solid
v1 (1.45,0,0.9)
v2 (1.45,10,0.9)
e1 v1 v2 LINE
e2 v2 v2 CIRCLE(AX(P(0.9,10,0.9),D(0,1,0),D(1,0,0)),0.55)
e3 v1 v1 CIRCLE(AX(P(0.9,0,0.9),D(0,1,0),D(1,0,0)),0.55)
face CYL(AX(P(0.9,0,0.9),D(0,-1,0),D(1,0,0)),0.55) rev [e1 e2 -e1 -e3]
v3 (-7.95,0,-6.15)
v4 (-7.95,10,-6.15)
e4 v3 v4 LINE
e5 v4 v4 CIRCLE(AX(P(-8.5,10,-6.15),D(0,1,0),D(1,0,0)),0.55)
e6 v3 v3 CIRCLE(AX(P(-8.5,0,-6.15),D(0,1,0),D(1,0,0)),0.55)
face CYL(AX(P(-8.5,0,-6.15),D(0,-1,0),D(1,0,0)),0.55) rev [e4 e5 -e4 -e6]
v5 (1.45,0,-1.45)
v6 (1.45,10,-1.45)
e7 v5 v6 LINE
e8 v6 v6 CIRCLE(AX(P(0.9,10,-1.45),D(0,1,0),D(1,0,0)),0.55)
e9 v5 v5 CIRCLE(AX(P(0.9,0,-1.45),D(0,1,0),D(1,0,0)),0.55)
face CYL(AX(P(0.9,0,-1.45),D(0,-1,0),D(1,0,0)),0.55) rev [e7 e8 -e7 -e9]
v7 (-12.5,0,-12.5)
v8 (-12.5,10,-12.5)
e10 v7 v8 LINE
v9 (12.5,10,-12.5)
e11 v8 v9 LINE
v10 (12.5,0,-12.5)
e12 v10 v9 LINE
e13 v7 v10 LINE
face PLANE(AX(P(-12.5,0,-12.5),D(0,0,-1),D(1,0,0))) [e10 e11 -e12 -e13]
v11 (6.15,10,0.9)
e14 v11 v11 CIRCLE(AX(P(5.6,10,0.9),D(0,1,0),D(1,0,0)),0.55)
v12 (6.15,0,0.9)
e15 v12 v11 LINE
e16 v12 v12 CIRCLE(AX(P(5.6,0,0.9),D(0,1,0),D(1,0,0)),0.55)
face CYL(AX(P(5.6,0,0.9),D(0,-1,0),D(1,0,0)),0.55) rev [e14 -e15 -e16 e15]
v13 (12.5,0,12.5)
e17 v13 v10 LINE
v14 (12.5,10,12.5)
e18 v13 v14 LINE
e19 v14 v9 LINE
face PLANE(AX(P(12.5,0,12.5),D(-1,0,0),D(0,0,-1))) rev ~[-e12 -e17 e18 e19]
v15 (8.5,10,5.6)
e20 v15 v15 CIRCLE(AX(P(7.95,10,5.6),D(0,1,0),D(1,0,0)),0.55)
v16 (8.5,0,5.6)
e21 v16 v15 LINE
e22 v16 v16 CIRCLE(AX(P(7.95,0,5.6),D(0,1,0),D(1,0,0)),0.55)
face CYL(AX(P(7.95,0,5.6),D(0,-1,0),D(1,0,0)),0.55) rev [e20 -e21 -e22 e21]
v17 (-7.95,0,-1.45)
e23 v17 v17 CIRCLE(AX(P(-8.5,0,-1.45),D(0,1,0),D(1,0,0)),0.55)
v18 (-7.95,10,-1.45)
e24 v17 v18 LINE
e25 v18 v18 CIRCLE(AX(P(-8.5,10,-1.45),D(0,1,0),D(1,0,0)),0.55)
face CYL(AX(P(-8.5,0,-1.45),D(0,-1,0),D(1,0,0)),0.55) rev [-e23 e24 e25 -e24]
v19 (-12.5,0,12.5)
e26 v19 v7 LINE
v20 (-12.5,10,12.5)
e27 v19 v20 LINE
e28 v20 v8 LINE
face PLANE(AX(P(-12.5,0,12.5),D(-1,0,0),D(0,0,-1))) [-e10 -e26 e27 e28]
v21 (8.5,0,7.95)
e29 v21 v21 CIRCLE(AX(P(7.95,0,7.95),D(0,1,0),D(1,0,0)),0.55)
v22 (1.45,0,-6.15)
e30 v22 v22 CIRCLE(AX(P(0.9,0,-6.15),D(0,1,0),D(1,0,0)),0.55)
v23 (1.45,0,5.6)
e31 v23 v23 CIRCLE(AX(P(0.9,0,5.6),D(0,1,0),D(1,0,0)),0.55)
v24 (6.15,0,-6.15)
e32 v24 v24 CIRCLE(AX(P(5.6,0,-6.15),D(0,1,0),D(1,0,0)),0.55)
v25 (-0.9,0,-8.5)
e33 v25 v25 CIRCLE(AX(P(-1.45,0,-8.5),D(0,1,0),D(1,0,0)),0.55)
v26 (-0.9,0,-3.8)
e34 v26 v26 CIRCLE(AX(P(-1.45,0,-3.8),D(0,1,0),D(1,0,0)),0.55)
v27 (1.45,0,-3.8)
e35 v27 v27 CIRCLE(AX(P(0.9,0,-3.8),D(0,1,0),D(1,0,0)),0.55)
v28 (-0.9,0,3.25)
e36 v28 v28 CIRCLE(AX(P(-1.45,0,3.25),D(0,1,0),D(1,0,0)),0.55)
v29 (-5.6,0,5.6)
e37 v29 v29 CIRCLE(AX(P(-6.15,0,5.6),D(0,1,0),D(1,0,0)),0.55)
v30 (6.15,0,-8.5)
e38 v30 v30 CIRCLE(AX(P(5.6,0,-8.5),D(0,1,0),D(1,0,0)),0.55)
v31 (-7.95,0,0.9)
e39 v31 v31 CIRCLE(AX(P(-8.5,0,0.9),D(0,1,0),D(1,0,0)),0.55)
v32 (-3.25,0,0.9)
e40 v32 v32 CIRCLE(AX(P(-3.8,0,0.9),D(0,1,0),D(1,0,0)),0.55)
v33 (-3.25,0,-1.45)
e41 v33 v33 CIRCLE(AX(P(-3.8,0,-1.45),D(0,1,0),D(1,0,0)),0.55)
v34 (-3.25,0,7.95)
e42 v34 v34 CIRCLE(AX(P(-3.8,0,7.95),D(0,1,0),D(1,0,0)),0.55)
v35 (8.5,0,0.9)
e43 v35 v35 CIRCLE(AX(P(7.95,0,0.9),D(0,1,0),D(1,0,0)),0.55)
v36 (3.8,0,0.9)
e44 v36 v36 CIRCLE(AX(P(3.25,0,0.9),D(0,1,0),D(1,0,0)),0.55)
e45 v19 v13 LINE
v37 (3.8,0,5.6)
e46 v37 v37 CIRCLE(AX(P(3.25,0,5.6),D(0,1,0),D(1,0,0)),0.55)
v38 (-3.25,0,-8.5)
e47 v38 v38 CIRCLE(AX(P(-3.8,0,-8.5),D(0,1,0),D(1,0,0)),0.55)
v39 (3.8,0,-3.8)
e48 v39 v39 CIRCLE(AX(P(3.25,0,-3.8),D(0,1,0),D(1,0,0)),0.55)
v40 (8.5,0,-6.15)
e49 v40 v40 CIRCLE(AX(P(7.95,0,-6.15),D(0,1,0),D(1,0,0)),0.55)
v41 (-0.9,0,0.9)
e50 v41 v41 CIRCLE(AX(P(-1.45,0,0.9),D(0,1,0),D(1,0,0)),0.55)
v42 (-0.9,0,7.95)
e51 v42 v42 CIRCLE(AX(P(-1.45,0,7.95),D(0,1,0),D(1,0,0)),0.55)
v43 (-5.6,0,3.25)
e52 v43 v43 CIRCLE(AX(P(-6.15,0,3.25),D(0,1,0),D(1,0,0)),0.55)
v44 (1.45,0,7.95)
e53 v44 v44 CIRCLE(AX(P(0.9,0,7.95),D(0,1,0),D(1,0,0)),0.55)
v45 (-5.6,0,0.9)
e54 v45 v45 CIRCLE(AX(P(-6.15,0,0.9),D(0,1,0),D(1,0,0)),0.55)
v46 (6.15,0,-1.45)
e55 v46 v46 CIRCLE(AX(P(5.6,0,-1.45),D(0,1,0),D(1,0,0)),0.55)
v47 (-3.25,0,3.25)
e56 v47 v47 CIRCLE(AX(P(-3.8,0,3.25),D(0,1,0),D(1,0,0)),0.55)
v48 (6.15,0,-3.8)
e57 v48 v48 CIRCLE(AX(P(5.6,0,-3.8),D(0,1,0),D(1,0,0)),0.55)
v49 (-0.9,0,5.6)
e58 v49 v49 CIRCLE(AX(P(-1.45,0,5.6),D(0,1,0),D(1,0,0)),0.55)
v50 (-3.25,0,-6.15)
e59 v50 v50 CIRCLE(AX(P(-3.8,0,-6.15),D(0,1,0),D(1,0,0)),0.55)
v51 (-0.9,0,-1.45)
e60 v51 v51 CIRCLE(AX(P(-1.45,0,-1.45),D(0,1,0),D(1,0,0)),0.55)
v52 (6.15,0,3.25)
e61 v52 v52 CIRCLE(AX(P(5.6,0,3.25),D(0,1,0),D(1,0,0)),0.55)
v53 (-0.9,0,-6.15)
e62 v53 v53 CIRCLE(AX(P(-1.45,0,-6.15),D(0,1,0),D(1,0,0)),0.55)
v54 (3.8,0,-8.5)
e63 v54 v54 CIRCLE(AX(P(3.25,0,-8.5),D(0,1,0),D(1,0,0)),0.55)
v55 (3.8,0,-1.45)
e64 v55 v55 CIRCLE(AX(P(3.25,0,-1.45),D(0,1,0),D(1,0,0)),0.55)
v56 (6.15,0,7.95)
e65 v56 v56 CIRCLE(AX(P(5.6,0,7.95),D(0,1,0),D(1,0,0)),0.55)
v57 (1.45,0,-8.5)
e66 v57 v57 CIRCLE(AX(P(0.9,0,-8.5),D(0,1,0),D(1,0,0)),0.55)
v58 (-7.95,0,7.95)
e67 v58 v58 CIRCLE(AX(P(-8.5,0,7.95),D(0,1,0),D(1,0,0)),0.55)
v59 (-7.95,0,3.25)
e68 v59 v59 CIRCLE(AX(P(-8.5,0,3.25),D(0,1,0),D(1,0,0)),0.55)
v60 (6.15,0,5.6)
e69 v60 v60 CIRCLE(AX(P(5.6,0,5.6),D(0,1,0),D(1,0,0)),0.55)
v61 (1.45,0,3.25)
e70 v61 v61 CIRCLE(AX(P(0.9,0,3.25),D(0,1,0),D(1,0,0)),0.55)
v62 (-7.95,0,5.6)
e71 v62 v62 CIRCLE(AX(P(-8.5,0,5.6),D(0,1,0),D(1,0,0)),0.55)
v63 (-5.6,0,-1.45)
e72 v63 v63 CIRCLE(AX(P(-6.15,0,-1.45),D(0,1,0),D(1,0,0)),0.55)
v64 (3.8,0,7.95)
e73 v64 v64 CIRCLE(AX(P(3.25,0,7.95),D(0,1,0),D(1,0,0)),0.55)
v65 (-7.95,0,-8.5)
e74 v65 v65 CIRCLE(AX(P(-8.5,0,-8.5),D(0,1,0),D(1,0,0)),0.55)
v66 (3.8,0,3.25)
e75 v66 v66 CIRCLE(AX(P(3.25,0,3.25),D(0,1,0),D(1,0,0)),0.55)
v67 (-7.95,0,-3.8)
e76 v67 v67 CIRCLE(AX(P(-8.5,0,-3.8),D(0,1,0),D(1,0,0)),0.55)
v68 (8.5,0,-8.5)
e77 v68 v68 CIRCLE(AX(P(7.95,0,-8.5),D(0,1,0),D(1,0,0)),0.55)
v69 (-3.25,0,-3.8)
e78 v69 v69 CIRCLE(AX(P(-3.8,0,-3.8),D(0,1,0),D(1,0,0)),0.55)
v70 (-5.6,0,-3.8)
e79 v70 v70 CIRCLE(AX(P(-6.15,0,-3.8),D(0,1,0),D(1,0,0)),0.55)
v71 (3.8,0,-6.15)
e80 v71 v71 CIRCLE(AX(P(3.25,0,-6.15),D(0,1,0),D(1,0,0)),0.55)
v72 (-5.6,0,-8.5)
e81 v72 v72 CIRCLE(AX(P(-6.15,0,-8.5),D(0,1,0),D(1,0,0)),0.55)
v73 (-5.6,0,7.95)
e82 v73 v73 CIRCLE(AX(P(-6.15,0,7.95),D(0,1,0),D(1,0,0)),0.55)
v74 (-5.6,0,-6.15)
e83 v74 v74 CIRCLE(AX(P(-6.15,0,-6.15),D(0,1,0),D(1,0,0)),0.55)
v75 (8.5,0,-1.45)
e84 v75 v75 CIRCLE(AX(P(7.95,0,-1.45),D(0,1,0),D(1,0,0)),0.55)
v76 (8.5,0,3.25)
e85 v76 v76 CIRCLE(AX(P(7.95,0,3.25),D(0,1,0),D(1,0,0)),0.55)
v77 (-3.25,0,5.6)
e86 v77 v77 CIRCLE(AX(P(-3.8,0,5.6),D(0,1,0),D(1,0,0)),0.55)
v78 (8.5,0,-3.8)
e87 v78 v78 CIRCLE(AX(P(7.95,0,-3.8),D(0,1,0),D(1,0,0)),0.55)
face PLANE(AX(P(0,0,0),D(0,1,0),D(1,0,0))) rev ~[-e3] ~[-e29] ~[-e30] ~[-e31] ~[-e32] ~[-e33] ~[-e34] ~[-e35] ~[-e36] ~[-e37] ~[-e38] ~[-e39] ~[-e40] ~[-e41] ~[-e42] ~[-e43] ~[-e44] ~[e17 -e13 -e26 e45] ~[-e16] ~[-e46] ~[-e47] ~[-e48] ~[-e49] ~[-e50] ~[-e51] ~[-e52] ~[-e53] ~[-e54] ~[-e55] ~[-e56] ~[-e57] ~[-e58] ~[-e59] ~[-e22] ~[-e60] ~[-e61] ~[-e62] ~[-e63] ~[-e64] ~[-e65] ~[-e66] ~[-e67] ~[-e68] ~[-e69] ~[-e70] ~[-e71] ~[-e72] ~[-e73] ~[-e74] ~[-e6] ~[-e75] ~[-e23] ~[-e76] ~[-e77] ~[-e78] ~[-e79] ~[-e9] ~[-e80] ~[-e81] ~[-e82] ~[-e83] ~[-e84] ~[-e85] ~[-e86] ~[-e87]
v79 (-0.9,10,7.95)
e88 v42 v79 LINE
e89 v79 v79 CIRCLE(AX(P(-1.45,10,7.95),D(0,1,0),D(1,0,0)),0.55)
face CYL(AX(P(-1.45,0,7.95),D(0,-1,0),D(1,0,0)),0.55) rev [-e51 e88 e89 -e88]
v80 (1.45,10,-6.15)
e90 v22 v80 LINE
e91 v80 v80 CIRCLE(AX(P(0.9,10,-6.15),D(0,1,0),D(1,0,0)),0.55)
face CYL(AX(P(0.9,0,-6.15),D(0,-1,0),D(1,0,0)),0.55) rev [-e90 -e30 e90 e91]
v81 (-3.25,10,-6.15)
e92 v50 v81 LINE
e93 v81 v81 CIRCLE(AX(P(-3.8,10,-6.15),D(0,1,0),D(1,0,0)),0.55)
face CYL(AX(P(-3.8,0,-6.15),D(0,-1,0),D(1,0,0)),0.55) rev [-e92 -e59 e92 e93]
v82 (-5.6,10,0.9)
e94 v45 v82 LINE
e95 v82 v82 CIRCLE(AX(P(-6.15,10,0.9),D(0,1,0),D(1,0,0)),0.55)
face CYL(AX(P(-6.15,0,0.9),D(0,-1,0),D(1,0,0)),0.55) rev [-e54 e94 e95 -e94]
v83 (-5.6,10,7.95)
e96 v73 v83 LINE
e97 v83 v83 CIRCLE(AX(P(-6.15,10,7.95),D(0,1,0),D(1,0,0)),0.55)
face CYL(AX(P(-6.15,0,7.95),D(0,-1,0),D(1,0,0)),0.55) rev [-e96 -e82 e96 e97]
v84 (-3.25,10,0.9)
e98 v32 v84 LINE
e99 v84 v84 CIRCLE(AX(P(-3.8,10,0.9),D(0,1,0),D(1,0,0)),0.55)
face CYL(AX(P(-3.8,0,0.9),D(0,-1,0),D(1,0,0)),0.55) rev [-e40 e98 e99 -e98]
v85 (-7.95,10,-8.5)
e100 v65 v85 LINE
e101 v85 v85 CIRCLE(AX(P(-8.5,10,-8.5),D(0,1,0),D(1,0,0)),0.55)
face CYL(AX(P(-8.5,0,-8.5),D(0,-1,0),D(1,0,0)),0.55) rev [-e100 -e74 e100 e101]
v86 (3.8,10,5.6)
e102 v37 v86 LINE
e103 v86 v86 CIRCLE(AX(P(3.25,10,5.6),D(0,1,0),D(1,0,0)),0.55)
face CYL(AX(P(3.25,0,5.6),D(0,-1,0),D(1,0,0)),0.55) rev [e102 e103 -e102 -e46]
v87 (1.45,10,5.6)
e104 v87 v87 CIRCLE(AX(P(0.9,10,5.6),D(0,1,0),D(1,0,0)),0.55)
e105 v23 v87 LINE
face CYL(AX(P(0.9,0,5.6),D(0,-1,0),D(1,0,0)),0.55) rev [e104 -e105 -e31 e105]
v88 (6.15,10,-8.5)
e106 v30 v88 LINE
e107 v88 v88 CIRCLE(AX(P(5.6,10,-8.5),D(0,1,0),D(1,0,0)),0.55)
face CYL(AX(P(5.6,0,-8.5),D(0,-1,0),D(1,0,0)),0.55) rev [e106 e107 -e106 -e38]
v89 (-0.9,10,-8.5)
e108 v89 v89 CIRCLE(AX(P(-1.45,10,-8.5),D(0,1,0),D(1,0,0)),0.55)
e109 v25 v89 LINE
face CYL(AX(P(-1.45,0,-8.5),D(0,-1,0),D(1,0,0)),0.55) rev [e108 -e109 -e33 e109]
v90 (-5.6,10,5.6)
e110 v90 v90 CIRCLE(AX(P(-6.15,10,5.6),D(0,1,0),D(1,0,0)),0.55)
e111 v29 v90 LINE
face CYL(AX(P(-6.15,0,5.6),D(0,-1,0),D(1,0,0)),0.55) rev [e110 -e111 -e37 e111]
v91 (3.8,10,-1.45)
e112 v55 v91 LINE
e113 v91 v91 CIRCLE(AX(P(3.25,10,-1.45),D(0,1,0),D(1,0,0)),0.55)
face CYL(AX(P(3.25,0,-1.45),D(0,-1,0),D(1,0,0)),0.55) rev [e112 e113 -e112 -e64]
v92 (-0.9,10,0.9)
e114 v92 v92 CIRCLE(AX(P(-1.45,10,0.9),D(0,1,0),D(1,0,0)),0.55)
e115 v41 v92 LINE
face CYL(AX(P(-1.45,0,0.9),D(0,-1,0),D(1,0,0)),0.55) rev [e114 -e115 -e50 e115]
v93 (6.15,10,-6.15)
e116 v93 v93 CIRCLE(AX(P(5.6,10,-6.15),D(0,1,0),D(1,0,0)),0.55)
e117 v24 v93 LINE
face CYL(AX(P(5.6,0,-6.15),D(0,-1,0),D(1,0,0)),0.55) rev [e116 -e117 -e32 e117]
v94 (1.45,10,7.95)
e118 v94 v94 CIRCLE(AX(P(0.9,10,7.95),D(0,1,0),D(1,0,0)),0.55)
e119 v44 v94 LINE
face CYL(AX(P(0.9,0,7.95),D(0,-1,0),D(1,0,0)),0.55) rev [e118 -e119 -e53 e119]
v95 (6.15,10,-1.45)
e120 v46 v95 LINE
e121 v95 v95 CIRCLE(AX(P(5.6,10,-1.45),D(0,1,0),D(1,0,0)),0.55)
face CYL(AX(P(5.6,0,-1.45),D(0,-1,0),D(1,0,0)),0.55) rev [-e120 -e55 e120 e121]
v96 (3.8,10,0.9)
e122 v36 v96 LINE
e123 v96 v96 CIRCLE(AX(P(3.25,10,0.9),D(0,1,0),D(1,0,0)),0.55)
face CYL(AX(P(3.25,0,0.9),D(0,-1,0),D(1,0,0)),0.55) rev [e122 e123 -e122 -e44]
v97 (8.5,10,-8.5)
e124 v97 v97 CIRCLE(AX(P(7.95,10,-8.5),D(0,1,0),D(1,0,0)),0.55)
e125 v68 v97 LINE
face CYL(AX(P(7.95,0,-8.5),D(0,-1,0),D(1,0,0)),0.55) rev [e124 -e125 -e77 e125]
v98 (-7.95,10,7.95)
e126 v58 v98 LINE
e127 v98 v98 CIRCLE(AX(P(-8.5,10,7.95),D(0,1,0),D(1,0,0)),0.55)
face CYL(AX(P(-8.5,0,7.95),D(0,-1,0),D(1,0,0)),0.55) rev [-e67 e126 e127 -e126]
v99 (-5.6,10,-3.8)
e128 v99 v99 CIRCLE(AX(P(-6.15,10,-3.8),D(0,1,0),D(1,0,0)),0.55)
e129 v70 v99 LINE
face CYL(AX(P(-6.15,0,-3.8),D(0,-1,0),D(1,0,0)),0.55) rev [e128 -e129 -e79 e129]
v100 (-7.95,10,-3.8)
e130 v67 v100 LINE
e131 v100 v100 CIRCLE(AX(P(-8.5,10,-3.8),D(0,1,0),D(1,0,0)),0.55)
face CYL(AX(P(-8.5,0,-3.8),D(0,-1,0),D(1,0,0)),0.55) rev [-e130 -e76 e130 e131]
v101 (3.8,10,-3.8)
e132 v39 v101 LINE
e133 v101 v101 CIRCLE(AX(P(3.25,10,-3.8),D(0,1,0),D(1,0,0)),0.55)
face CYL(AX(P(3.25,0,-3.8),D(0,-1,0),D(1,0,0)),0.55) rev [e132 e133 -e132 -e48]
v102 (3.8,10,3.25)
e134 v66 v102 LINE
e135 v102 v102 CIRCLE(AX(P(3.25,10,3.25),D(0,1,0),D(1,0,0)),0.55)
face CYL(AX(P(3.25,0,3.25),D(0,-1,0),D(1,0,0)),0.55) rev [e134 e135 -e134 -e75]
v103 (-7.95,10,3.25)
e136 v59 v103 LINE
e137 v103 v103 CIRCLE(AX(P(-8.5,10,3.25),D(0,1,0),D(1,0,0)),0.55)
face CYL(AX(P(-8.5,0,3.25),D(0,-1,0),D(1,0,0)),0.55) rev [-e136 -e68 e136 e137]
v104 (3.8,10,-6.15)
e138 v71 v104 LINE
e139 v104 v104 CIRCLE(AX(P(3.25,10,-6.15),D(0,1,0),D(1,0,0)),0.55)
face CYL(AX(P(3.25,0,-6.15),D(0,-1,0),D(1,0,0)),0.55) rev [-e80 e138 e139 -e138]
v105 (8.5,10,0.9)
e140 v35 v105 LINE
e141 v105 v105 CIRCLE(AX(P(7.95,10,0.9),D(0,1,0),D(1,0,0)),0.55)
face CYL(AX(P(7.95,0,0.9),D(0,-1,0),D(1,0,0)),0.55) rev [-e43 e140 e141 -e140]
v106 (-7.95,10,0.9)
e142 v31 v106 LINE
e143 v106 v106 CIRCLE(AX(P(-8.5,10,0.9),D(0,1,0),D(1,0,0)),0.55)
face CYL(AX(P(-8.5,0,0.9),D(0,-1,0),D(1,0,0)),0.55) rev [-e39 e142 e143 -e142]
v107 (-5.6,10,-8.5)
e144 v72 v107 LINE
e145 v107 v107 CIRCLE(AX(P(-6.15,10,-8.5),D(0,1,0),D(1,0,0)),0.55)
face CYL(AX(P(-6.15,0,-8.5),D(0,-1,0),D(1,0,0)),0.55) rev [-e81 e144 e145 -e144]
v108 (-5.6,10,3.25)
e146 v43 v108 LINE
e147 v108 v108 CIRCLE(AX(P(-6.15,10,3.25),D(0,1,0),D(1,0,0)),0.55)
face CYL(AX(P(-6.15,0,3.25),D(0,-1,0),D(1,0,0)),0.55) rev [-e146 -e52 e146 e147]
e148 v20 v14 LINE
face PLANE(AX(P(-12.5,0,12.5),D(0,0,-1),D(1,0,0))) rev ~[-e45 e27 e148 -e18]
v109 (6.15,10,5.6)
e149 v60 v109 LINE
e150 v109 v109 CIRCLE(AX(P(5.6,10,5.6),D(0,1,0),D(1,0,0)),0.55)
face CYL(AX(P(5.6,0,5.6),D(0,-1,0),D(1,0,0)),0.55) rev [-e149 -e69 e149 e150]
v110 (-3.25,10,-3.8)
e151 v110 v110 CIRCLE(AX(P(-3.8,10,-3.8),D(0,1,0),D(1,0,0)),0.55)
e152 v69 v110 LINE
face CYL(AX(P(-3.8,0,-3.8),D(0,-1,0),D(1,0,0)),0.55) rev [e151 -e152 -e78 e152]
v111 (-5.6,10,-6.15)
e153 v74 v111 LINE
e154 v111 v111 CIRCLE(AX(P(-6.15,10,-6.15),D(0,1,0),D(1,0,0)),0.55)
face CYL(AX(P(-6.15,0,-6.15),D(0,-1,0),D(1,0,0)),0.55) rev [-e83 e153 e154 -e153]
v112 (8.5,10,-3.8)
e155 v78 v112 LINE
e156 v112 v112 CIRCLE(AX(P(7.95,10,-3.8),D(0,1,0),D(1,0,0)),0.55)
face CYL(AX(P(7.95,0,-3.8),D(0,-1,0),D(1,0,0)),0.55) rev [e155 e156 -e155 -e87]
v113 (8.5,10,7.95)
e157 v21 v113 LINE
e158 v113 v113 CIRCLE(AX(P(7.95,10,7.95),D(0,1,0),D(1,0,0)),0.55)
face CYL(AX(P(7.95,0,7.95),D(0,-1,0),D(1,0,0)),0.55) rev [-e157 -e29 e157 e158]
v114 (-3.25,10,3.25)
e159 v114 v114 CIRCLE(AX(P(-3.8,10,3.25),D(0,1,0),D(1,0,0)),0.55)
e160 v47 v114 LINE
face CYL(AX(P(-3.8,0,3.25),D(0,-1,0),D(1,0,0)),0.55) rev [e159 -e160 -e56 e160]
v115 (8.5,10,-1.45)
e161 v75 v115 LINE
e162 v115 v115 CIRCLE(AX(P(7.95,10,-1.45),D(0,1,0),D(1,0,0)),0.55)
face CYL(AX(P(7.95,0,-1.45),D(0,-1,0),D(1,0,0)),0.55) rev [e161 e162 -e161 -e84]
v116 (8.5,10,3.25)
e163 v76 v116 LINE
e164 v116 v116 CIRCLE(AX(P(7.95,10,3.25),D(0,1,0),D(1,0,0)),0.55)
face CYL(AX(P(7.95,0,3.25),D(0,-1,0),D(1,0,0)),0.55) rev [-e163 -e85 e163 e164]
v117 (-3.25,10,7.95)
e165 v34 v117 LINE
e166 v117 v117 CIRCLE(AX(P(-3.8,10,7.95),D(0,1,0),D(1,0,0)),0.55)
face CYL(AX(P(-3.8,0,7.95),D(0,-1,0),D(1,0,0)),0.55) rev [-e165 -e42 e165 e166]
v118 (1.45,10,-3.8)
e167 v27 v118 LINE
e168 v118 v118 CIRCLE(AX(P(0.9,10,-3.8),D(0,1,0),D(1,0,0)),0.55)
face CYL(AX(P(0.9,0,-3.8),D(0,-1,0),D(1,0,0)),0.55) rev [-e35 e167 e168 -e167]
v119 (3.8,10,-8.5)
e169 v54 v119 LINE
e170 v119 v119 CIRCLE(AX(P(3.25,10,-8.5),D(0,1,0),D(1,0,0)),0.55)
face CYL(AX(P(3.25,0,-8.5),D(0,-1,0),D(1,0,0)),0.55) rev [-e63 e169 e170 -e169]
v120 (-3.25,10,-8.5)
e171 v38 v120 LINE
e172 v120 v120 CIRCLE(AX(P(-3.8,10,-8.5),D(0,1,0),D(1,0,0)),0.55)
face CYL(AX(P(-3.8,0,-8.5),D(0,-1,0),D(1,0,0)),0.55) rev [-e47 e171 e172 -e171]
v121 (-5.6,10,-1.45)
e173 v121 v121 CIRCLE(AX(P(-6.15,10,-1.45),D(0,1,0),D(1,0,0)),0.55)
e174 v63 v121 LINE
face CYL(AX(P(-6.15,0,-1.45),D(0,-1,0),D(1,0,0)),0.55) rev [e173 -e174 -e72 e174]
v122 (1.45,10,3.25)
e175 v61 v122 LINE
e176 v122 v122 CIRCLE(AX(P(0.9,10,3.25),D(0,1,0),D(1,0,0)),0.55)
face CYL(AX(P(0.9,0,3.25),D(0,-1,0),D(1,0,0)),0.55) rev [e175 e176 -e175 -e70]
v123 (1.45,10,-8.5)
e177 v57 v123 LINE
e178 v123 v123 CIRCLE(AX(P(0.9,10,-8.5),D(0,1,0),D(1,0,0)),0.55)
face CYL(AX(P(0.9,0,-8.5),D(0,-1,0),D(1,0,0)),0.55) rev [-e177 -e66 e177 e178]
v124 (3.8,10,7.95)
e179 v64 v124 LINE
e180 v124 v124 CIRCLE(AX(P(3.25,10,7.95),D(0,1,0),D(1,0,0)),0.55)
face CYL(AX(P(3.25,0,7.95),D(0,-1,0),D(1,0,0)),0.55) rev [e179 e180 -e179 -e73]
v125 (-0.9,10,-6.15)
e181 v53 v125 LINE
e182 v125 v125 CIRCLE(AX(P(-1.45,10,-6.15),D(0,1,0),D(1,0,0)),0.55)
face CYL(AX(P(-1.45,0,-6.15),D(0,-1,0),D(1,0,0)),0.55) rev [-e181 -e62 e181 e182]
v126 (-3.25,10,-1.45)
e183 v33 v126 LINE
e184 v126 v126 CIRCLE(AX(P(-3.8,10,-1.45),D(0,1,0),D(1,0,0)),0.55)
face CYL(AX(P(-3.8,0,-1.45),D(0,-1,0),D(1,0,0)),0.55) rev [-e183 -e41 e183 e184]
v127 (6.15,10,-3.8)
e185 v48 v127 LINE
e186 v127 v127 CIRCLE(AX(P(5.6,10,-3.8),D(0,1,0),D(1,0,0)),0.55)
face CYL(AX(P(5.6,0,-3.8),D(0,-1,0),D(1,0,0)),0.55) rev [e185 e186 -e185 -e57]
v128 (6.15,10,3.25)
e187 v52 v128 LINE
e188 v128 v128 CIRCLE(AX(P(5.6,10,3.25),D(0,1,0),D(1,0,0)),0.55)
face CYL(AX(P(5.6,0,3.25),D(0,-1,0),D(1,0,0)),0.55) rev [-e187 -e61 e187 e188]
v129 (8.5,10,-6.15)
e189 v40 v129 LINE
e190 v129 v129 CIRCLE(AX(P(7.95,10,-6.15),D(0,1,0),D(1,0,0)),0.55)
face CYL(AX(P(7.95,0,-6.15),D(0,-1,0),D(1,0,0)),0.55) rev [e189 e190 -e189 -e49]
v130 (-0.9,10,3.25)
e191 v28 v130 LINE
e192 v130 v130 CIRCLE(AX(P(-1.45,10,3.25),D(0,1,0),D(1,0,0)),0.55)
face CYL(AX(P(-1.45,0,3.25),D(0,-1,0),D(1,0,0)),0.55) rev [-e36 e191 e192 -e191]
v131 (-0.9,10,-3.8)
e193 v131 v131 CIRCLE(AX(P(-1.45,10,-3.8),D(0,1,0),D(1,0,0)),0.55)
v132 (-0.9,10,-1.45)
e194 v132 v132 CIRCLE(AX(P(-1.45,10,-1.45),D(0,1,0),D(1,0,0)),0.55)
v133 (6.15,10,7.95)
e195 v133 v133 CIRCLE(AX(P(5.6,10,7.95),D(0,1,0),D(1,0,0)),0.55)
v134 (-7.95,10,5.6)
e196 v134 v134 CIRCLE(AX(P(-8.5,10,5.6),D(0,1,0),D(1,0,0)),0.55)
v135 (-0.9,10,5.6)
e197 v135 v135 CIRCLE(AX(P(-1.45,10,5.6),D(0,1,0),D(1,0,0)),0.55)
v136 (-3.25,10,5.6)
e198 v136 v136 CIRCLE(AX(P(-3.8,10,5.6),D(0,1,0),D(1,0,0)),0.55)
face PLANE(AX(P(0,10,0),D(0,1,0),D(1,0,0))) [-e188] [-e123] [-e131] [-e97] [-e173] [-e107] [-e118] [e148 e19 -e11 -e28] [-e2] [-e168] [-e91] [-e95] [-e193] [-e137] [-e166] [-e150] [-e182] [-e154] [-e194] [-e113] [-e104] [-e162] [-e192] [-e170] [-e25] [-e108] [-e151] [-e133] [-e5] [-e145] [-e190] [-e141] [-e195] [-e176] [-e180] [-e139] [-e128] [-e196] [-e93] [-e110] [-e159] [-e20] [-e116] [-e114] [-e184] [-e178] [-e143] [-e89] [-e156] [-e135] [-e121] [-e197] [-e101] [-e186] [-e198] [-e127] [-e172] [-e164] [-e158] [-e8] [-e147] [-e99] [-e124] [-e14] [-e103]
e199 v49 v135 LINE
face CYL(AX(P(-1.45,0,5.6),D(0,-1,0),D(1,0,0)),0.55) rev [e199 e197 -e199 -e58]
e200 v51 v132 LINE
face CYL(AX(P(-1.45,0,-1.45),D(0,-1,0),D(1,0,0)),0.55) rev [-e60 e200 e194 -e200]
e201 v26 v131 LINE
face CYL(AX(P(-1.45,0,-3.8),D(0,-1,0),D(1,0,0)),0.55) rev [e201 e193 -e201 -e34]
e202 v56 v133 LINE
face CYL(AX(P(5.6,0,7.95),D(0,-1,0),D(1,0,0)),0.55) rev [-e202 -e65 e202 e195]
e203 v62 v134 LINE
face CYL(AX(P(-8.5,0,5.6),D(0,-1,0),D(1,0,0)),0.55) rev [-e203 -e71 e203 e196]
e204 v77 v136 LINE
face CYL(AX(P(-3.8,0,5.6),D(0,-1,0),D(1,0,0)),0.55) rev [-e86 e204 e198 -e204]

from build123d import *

# Parameters (mm, degrees)
SKETCH1_W           = 25
SKETCH1_H           = 25
SKETCH1_R           = 0.55
BOSS_EXTRUDE1_DEPTH = 10


with BuildPart() as part:
    # Sketch1 → Boss-Extrude1 (new body)
    with BuildSketch(Plane(origin=(0, 0, 0), x_dir=(1, 0, 0), z_dir=(0, 1, 0))):
        Rectangle(SKETCH1_W, SKETCH1_H)
        with Locations((-8.5, 8.5)):
            Circle(SKETCH1_R, mode=Mode.SUBTRACT)
        with Locations((-6.15, 8.5)):
            Circle(SKETCH1_R, mode=Mode.SUBTRACT)
        with Locations((-3.8, 8.5)):
            Circle(SKETCH1_R, mode=Mode.SUBTRACT)
        with Locations((-1.45, 8.5)):
            Circle(SKETCH1_R, mode=Mode.SUBTRACT)
        with Locations((0.9, 8.5)):
            Circle(SKETCH1_R, mode=Mode.SUBTRACT)
        with Locations((3.25, 8.5)):
            Circle(SKETCH1_R, mode=Mode.SUBTRACT)
        with Locations((5.6, 8.5)):
            Circle(SKETCH1_R, mode=Mode.SUBTRACT)
        with Locations((7.95, 8.5)):
            Circle(SKETCH1_R, mode=Mode.SUBTRACT)
        with Locations((-6.15, 6.15)):
            Circle(SKETCH1_R, mode=Mode.SUBTRACT)
        with Locations((-3.8, 6.15)):
            Circle(SKETCH1_R, mode=Mode.SUBTRACT)
        with Locations((-1.45, 6.15)):
            Circle(SKETCH1_R, mode=Mode.SUBTRACT)
        with Locations((0.9, 6.15)):
            Circle(SKETCH1_R, mode=Mode.SUBTRACT)
        with Locations((3.25, 6.15)):
            Circle(SKETCH1_R, mode=Mode.SUBTRACT)
        with Locations((5.6, 6.15)):
            Circle(SKETCH1_R, mode=Mode.SUBTRACT)
        with Locations((7.95, 6.15)):
            Circle(SKETCH1_R, mode=Mode.SUBTRACT)
        with Locations((-6.15, 3.8)):
            Circle(SKETCH1_R, mode=Mode.SUBTRACT)
        with Locations((-3.8, 3.8)):
            Circle(SKETCH1_R, mode=Mode.SUBTRACT)
        with Locations((-1.45, 3.8)):
            Circle(SKETCH1_R, mode=Mode.SUBTRACT)
        with Locations((0.9, 3.8)):
            Circle(SKETCH1_R, mode=Mode.SUBTRACT)
        with Locations((3.25, 3.8)):
            Circle(SKETCH1_R, mode=Mode.SUBTRACT)
        with Locations((5.6, 3.8)):
            Circle(SKETCH1_R, mode=Mode.SUBTRACT)
        with Locations((7.95, 3.8)):
            Circle(SKETCH1_R, mode=Mode.SUBTRACT)
        with Locations((-6.15, 1.45)):
            Circle(SKETCH1_R, mode=Mode.SUBTRACT)
        with Locations((-3.8, 1.45)):
            Circle(SKETCH1_R, mode=Mode.SUBTRACT)
        with Locations((-1.45, 1.45)):
            Circle(SKETCH1_R, mode=Mode.SUBTRACT)
        with Locations((0.9, 1.45)):
            Circle(SKETCH1_R, mode=Mode.SUBTRACT)
        with Locations((3.25, 1.45)):
            Circle(SKETCH1_R, mode=Mode.SUBTRACT)
        with Locations((5.6, 1.45)):
            Circle(SKETCH1_R, mode=Mode.SUBTRACT)
        with Locations((7.95, 1.45)):
            Circle(SKETCH1_R, mode=Mode.SUBTRACT)
        with Locations((-6.15, -0.9)):
            Circle(SKETCH1_R, mode=Mode.SUBTRACT)
        with Locations((-3.8, -0.9)):
            Circle(SKETCH1_R, mode=Mode.SUBTRACT)
        with Locations((-1.45, -0.9)):
            Circle(SKETCH1_R, mode=Mode.SUBTRACT)
        with Locations((0.9, -0.9)):
            Circle(SKETCH1_R, mode=Mode.SUBTRACT)
        with Locations((3.25, -0.9)):
            Circle(SKETCH1_R, mode=Mode.SUBTRACT)
        with Locations((5.6, -0.9)):
            Circle(SKETCH1_R, mode=Mode.SUBTRACT)
        with Locations((7.95, -0.9)):
            Circle(SKETCH1_R, mode=Mode.SUBTRACT)
        with Locations((-6.15, -3.25)):
            Circle(SKETCH1_R, mode=Mode.SUBTRACT)
        with Locations((-3.8, -3.25)):
            Circle(SKETCH1_R, mode=Mode.SUBTRACT)
        with Locations((-1.45, -3.25)):
            Circle(SKETCH1_R, mode=Mode.SUBTRACT)
        with Locations((0.9, -3.25)):
            Circle(SKETCH1_R, mode=Mode.SUBTRACT)
        with Locations((3.25, -3.25)):
            Circle(SKETCH1_R, mode=Mode.SUBTRACT)
        with Locations((5.6, -3.25)):
            Circle(SKETCH1_R, mode=Mode.SUBTRACT)
        with Locations((7.95, -3.25)):
            Circle(SKETCH1_R, mode=Mode.SUBTRACT)
        with Locations((-6.15, -5.6)):
            Circle(SKETCH1_R, mode=Mode.SUBTRACT)
        with Locations((-3.8, -5.6)):
            Circle(SKETCH1_R, mode=Mode.SUBTRACT)
        with Locations((-1.45, -5.6)):
            Circle(SKETCH1_R, mode=Mode.SUBTRACT)
        with Locations((0.9, -5.6)):
            Circle(SKETCH1_R, mode=Mode.SUBTRACT)
        with Locations((3.25, -5.6)):
            Circle(SKETCH1_R, mode=Mode.SUBTRACT)
        with Locations((5.6, -5.6)):
            Circle(SKETCH1_R, mode=Mode.SUBTRACT)
        with Locations((7.95, -5.6)):
            Circle(SKETCH1_R, mode=Mode.SUBTRACT)
        with Locations((-6.15, -7.95)):
            Circle(SKETCH1_R, mode=Mode.SUBTRACT)
        with Locations((-3.8, -7.95)):
            Circle(SKETCH1_R, mode=Mode.SUBTRACT)
        with Locations((-1.45, -7.95)):
            Circle(SKETCH1_R, mode=Mode.SUBTRACT)
        with Locations((0.9, -7.95)):
            Circle(SKETCH1_R, mode=Mode.SUBTRACT)
        with Locations((3.25, -7.95)):
            Circle(SKETCH1_R, mode=Mode.SUBTRACT)
        with Locations((5.6, -7.95)):
            Circle(SKETCH1_R, mode=Mode.SUBTRACT)
        with Locations((7.95, -7.95)):
            Circle(SKETCH1_R, mode=Mode.SUBTRACT)
        with Locations((-8.5, 6.15)):
            Circle(SKETCH1_R, mode=Mode.SUBTRACT)
        with Locations((-8.5, 3.8)):
            Circle(SKETCH1_R, mode=Mode.SUBTRACT)
        with Locations((-8.5, 1.45)):
            Circle(SKETCH1_R, mode=Mode.SUBTRACT)
        with Locations((-8.5, -0.9)):
            Circle(SKETCH1_R, mode=Mode.SUBTRACT)
        with Locations((-8.5, -3.25)):
            Circle(SKETCH1_R, mode=Mode.SUBTRACT)
        with Locations((-8.5, -5.6)):
            Circle(SKETCH1_R, mode=Mode.SUBTRACT)
        with Locations((-8.5, -7.95)):
            Circle(SKETCH1_R, mode=Mode.SUBTRACT)
    extrude(amount=BOSS_EXTRUDE1_DEPTH)


solid = part.part
